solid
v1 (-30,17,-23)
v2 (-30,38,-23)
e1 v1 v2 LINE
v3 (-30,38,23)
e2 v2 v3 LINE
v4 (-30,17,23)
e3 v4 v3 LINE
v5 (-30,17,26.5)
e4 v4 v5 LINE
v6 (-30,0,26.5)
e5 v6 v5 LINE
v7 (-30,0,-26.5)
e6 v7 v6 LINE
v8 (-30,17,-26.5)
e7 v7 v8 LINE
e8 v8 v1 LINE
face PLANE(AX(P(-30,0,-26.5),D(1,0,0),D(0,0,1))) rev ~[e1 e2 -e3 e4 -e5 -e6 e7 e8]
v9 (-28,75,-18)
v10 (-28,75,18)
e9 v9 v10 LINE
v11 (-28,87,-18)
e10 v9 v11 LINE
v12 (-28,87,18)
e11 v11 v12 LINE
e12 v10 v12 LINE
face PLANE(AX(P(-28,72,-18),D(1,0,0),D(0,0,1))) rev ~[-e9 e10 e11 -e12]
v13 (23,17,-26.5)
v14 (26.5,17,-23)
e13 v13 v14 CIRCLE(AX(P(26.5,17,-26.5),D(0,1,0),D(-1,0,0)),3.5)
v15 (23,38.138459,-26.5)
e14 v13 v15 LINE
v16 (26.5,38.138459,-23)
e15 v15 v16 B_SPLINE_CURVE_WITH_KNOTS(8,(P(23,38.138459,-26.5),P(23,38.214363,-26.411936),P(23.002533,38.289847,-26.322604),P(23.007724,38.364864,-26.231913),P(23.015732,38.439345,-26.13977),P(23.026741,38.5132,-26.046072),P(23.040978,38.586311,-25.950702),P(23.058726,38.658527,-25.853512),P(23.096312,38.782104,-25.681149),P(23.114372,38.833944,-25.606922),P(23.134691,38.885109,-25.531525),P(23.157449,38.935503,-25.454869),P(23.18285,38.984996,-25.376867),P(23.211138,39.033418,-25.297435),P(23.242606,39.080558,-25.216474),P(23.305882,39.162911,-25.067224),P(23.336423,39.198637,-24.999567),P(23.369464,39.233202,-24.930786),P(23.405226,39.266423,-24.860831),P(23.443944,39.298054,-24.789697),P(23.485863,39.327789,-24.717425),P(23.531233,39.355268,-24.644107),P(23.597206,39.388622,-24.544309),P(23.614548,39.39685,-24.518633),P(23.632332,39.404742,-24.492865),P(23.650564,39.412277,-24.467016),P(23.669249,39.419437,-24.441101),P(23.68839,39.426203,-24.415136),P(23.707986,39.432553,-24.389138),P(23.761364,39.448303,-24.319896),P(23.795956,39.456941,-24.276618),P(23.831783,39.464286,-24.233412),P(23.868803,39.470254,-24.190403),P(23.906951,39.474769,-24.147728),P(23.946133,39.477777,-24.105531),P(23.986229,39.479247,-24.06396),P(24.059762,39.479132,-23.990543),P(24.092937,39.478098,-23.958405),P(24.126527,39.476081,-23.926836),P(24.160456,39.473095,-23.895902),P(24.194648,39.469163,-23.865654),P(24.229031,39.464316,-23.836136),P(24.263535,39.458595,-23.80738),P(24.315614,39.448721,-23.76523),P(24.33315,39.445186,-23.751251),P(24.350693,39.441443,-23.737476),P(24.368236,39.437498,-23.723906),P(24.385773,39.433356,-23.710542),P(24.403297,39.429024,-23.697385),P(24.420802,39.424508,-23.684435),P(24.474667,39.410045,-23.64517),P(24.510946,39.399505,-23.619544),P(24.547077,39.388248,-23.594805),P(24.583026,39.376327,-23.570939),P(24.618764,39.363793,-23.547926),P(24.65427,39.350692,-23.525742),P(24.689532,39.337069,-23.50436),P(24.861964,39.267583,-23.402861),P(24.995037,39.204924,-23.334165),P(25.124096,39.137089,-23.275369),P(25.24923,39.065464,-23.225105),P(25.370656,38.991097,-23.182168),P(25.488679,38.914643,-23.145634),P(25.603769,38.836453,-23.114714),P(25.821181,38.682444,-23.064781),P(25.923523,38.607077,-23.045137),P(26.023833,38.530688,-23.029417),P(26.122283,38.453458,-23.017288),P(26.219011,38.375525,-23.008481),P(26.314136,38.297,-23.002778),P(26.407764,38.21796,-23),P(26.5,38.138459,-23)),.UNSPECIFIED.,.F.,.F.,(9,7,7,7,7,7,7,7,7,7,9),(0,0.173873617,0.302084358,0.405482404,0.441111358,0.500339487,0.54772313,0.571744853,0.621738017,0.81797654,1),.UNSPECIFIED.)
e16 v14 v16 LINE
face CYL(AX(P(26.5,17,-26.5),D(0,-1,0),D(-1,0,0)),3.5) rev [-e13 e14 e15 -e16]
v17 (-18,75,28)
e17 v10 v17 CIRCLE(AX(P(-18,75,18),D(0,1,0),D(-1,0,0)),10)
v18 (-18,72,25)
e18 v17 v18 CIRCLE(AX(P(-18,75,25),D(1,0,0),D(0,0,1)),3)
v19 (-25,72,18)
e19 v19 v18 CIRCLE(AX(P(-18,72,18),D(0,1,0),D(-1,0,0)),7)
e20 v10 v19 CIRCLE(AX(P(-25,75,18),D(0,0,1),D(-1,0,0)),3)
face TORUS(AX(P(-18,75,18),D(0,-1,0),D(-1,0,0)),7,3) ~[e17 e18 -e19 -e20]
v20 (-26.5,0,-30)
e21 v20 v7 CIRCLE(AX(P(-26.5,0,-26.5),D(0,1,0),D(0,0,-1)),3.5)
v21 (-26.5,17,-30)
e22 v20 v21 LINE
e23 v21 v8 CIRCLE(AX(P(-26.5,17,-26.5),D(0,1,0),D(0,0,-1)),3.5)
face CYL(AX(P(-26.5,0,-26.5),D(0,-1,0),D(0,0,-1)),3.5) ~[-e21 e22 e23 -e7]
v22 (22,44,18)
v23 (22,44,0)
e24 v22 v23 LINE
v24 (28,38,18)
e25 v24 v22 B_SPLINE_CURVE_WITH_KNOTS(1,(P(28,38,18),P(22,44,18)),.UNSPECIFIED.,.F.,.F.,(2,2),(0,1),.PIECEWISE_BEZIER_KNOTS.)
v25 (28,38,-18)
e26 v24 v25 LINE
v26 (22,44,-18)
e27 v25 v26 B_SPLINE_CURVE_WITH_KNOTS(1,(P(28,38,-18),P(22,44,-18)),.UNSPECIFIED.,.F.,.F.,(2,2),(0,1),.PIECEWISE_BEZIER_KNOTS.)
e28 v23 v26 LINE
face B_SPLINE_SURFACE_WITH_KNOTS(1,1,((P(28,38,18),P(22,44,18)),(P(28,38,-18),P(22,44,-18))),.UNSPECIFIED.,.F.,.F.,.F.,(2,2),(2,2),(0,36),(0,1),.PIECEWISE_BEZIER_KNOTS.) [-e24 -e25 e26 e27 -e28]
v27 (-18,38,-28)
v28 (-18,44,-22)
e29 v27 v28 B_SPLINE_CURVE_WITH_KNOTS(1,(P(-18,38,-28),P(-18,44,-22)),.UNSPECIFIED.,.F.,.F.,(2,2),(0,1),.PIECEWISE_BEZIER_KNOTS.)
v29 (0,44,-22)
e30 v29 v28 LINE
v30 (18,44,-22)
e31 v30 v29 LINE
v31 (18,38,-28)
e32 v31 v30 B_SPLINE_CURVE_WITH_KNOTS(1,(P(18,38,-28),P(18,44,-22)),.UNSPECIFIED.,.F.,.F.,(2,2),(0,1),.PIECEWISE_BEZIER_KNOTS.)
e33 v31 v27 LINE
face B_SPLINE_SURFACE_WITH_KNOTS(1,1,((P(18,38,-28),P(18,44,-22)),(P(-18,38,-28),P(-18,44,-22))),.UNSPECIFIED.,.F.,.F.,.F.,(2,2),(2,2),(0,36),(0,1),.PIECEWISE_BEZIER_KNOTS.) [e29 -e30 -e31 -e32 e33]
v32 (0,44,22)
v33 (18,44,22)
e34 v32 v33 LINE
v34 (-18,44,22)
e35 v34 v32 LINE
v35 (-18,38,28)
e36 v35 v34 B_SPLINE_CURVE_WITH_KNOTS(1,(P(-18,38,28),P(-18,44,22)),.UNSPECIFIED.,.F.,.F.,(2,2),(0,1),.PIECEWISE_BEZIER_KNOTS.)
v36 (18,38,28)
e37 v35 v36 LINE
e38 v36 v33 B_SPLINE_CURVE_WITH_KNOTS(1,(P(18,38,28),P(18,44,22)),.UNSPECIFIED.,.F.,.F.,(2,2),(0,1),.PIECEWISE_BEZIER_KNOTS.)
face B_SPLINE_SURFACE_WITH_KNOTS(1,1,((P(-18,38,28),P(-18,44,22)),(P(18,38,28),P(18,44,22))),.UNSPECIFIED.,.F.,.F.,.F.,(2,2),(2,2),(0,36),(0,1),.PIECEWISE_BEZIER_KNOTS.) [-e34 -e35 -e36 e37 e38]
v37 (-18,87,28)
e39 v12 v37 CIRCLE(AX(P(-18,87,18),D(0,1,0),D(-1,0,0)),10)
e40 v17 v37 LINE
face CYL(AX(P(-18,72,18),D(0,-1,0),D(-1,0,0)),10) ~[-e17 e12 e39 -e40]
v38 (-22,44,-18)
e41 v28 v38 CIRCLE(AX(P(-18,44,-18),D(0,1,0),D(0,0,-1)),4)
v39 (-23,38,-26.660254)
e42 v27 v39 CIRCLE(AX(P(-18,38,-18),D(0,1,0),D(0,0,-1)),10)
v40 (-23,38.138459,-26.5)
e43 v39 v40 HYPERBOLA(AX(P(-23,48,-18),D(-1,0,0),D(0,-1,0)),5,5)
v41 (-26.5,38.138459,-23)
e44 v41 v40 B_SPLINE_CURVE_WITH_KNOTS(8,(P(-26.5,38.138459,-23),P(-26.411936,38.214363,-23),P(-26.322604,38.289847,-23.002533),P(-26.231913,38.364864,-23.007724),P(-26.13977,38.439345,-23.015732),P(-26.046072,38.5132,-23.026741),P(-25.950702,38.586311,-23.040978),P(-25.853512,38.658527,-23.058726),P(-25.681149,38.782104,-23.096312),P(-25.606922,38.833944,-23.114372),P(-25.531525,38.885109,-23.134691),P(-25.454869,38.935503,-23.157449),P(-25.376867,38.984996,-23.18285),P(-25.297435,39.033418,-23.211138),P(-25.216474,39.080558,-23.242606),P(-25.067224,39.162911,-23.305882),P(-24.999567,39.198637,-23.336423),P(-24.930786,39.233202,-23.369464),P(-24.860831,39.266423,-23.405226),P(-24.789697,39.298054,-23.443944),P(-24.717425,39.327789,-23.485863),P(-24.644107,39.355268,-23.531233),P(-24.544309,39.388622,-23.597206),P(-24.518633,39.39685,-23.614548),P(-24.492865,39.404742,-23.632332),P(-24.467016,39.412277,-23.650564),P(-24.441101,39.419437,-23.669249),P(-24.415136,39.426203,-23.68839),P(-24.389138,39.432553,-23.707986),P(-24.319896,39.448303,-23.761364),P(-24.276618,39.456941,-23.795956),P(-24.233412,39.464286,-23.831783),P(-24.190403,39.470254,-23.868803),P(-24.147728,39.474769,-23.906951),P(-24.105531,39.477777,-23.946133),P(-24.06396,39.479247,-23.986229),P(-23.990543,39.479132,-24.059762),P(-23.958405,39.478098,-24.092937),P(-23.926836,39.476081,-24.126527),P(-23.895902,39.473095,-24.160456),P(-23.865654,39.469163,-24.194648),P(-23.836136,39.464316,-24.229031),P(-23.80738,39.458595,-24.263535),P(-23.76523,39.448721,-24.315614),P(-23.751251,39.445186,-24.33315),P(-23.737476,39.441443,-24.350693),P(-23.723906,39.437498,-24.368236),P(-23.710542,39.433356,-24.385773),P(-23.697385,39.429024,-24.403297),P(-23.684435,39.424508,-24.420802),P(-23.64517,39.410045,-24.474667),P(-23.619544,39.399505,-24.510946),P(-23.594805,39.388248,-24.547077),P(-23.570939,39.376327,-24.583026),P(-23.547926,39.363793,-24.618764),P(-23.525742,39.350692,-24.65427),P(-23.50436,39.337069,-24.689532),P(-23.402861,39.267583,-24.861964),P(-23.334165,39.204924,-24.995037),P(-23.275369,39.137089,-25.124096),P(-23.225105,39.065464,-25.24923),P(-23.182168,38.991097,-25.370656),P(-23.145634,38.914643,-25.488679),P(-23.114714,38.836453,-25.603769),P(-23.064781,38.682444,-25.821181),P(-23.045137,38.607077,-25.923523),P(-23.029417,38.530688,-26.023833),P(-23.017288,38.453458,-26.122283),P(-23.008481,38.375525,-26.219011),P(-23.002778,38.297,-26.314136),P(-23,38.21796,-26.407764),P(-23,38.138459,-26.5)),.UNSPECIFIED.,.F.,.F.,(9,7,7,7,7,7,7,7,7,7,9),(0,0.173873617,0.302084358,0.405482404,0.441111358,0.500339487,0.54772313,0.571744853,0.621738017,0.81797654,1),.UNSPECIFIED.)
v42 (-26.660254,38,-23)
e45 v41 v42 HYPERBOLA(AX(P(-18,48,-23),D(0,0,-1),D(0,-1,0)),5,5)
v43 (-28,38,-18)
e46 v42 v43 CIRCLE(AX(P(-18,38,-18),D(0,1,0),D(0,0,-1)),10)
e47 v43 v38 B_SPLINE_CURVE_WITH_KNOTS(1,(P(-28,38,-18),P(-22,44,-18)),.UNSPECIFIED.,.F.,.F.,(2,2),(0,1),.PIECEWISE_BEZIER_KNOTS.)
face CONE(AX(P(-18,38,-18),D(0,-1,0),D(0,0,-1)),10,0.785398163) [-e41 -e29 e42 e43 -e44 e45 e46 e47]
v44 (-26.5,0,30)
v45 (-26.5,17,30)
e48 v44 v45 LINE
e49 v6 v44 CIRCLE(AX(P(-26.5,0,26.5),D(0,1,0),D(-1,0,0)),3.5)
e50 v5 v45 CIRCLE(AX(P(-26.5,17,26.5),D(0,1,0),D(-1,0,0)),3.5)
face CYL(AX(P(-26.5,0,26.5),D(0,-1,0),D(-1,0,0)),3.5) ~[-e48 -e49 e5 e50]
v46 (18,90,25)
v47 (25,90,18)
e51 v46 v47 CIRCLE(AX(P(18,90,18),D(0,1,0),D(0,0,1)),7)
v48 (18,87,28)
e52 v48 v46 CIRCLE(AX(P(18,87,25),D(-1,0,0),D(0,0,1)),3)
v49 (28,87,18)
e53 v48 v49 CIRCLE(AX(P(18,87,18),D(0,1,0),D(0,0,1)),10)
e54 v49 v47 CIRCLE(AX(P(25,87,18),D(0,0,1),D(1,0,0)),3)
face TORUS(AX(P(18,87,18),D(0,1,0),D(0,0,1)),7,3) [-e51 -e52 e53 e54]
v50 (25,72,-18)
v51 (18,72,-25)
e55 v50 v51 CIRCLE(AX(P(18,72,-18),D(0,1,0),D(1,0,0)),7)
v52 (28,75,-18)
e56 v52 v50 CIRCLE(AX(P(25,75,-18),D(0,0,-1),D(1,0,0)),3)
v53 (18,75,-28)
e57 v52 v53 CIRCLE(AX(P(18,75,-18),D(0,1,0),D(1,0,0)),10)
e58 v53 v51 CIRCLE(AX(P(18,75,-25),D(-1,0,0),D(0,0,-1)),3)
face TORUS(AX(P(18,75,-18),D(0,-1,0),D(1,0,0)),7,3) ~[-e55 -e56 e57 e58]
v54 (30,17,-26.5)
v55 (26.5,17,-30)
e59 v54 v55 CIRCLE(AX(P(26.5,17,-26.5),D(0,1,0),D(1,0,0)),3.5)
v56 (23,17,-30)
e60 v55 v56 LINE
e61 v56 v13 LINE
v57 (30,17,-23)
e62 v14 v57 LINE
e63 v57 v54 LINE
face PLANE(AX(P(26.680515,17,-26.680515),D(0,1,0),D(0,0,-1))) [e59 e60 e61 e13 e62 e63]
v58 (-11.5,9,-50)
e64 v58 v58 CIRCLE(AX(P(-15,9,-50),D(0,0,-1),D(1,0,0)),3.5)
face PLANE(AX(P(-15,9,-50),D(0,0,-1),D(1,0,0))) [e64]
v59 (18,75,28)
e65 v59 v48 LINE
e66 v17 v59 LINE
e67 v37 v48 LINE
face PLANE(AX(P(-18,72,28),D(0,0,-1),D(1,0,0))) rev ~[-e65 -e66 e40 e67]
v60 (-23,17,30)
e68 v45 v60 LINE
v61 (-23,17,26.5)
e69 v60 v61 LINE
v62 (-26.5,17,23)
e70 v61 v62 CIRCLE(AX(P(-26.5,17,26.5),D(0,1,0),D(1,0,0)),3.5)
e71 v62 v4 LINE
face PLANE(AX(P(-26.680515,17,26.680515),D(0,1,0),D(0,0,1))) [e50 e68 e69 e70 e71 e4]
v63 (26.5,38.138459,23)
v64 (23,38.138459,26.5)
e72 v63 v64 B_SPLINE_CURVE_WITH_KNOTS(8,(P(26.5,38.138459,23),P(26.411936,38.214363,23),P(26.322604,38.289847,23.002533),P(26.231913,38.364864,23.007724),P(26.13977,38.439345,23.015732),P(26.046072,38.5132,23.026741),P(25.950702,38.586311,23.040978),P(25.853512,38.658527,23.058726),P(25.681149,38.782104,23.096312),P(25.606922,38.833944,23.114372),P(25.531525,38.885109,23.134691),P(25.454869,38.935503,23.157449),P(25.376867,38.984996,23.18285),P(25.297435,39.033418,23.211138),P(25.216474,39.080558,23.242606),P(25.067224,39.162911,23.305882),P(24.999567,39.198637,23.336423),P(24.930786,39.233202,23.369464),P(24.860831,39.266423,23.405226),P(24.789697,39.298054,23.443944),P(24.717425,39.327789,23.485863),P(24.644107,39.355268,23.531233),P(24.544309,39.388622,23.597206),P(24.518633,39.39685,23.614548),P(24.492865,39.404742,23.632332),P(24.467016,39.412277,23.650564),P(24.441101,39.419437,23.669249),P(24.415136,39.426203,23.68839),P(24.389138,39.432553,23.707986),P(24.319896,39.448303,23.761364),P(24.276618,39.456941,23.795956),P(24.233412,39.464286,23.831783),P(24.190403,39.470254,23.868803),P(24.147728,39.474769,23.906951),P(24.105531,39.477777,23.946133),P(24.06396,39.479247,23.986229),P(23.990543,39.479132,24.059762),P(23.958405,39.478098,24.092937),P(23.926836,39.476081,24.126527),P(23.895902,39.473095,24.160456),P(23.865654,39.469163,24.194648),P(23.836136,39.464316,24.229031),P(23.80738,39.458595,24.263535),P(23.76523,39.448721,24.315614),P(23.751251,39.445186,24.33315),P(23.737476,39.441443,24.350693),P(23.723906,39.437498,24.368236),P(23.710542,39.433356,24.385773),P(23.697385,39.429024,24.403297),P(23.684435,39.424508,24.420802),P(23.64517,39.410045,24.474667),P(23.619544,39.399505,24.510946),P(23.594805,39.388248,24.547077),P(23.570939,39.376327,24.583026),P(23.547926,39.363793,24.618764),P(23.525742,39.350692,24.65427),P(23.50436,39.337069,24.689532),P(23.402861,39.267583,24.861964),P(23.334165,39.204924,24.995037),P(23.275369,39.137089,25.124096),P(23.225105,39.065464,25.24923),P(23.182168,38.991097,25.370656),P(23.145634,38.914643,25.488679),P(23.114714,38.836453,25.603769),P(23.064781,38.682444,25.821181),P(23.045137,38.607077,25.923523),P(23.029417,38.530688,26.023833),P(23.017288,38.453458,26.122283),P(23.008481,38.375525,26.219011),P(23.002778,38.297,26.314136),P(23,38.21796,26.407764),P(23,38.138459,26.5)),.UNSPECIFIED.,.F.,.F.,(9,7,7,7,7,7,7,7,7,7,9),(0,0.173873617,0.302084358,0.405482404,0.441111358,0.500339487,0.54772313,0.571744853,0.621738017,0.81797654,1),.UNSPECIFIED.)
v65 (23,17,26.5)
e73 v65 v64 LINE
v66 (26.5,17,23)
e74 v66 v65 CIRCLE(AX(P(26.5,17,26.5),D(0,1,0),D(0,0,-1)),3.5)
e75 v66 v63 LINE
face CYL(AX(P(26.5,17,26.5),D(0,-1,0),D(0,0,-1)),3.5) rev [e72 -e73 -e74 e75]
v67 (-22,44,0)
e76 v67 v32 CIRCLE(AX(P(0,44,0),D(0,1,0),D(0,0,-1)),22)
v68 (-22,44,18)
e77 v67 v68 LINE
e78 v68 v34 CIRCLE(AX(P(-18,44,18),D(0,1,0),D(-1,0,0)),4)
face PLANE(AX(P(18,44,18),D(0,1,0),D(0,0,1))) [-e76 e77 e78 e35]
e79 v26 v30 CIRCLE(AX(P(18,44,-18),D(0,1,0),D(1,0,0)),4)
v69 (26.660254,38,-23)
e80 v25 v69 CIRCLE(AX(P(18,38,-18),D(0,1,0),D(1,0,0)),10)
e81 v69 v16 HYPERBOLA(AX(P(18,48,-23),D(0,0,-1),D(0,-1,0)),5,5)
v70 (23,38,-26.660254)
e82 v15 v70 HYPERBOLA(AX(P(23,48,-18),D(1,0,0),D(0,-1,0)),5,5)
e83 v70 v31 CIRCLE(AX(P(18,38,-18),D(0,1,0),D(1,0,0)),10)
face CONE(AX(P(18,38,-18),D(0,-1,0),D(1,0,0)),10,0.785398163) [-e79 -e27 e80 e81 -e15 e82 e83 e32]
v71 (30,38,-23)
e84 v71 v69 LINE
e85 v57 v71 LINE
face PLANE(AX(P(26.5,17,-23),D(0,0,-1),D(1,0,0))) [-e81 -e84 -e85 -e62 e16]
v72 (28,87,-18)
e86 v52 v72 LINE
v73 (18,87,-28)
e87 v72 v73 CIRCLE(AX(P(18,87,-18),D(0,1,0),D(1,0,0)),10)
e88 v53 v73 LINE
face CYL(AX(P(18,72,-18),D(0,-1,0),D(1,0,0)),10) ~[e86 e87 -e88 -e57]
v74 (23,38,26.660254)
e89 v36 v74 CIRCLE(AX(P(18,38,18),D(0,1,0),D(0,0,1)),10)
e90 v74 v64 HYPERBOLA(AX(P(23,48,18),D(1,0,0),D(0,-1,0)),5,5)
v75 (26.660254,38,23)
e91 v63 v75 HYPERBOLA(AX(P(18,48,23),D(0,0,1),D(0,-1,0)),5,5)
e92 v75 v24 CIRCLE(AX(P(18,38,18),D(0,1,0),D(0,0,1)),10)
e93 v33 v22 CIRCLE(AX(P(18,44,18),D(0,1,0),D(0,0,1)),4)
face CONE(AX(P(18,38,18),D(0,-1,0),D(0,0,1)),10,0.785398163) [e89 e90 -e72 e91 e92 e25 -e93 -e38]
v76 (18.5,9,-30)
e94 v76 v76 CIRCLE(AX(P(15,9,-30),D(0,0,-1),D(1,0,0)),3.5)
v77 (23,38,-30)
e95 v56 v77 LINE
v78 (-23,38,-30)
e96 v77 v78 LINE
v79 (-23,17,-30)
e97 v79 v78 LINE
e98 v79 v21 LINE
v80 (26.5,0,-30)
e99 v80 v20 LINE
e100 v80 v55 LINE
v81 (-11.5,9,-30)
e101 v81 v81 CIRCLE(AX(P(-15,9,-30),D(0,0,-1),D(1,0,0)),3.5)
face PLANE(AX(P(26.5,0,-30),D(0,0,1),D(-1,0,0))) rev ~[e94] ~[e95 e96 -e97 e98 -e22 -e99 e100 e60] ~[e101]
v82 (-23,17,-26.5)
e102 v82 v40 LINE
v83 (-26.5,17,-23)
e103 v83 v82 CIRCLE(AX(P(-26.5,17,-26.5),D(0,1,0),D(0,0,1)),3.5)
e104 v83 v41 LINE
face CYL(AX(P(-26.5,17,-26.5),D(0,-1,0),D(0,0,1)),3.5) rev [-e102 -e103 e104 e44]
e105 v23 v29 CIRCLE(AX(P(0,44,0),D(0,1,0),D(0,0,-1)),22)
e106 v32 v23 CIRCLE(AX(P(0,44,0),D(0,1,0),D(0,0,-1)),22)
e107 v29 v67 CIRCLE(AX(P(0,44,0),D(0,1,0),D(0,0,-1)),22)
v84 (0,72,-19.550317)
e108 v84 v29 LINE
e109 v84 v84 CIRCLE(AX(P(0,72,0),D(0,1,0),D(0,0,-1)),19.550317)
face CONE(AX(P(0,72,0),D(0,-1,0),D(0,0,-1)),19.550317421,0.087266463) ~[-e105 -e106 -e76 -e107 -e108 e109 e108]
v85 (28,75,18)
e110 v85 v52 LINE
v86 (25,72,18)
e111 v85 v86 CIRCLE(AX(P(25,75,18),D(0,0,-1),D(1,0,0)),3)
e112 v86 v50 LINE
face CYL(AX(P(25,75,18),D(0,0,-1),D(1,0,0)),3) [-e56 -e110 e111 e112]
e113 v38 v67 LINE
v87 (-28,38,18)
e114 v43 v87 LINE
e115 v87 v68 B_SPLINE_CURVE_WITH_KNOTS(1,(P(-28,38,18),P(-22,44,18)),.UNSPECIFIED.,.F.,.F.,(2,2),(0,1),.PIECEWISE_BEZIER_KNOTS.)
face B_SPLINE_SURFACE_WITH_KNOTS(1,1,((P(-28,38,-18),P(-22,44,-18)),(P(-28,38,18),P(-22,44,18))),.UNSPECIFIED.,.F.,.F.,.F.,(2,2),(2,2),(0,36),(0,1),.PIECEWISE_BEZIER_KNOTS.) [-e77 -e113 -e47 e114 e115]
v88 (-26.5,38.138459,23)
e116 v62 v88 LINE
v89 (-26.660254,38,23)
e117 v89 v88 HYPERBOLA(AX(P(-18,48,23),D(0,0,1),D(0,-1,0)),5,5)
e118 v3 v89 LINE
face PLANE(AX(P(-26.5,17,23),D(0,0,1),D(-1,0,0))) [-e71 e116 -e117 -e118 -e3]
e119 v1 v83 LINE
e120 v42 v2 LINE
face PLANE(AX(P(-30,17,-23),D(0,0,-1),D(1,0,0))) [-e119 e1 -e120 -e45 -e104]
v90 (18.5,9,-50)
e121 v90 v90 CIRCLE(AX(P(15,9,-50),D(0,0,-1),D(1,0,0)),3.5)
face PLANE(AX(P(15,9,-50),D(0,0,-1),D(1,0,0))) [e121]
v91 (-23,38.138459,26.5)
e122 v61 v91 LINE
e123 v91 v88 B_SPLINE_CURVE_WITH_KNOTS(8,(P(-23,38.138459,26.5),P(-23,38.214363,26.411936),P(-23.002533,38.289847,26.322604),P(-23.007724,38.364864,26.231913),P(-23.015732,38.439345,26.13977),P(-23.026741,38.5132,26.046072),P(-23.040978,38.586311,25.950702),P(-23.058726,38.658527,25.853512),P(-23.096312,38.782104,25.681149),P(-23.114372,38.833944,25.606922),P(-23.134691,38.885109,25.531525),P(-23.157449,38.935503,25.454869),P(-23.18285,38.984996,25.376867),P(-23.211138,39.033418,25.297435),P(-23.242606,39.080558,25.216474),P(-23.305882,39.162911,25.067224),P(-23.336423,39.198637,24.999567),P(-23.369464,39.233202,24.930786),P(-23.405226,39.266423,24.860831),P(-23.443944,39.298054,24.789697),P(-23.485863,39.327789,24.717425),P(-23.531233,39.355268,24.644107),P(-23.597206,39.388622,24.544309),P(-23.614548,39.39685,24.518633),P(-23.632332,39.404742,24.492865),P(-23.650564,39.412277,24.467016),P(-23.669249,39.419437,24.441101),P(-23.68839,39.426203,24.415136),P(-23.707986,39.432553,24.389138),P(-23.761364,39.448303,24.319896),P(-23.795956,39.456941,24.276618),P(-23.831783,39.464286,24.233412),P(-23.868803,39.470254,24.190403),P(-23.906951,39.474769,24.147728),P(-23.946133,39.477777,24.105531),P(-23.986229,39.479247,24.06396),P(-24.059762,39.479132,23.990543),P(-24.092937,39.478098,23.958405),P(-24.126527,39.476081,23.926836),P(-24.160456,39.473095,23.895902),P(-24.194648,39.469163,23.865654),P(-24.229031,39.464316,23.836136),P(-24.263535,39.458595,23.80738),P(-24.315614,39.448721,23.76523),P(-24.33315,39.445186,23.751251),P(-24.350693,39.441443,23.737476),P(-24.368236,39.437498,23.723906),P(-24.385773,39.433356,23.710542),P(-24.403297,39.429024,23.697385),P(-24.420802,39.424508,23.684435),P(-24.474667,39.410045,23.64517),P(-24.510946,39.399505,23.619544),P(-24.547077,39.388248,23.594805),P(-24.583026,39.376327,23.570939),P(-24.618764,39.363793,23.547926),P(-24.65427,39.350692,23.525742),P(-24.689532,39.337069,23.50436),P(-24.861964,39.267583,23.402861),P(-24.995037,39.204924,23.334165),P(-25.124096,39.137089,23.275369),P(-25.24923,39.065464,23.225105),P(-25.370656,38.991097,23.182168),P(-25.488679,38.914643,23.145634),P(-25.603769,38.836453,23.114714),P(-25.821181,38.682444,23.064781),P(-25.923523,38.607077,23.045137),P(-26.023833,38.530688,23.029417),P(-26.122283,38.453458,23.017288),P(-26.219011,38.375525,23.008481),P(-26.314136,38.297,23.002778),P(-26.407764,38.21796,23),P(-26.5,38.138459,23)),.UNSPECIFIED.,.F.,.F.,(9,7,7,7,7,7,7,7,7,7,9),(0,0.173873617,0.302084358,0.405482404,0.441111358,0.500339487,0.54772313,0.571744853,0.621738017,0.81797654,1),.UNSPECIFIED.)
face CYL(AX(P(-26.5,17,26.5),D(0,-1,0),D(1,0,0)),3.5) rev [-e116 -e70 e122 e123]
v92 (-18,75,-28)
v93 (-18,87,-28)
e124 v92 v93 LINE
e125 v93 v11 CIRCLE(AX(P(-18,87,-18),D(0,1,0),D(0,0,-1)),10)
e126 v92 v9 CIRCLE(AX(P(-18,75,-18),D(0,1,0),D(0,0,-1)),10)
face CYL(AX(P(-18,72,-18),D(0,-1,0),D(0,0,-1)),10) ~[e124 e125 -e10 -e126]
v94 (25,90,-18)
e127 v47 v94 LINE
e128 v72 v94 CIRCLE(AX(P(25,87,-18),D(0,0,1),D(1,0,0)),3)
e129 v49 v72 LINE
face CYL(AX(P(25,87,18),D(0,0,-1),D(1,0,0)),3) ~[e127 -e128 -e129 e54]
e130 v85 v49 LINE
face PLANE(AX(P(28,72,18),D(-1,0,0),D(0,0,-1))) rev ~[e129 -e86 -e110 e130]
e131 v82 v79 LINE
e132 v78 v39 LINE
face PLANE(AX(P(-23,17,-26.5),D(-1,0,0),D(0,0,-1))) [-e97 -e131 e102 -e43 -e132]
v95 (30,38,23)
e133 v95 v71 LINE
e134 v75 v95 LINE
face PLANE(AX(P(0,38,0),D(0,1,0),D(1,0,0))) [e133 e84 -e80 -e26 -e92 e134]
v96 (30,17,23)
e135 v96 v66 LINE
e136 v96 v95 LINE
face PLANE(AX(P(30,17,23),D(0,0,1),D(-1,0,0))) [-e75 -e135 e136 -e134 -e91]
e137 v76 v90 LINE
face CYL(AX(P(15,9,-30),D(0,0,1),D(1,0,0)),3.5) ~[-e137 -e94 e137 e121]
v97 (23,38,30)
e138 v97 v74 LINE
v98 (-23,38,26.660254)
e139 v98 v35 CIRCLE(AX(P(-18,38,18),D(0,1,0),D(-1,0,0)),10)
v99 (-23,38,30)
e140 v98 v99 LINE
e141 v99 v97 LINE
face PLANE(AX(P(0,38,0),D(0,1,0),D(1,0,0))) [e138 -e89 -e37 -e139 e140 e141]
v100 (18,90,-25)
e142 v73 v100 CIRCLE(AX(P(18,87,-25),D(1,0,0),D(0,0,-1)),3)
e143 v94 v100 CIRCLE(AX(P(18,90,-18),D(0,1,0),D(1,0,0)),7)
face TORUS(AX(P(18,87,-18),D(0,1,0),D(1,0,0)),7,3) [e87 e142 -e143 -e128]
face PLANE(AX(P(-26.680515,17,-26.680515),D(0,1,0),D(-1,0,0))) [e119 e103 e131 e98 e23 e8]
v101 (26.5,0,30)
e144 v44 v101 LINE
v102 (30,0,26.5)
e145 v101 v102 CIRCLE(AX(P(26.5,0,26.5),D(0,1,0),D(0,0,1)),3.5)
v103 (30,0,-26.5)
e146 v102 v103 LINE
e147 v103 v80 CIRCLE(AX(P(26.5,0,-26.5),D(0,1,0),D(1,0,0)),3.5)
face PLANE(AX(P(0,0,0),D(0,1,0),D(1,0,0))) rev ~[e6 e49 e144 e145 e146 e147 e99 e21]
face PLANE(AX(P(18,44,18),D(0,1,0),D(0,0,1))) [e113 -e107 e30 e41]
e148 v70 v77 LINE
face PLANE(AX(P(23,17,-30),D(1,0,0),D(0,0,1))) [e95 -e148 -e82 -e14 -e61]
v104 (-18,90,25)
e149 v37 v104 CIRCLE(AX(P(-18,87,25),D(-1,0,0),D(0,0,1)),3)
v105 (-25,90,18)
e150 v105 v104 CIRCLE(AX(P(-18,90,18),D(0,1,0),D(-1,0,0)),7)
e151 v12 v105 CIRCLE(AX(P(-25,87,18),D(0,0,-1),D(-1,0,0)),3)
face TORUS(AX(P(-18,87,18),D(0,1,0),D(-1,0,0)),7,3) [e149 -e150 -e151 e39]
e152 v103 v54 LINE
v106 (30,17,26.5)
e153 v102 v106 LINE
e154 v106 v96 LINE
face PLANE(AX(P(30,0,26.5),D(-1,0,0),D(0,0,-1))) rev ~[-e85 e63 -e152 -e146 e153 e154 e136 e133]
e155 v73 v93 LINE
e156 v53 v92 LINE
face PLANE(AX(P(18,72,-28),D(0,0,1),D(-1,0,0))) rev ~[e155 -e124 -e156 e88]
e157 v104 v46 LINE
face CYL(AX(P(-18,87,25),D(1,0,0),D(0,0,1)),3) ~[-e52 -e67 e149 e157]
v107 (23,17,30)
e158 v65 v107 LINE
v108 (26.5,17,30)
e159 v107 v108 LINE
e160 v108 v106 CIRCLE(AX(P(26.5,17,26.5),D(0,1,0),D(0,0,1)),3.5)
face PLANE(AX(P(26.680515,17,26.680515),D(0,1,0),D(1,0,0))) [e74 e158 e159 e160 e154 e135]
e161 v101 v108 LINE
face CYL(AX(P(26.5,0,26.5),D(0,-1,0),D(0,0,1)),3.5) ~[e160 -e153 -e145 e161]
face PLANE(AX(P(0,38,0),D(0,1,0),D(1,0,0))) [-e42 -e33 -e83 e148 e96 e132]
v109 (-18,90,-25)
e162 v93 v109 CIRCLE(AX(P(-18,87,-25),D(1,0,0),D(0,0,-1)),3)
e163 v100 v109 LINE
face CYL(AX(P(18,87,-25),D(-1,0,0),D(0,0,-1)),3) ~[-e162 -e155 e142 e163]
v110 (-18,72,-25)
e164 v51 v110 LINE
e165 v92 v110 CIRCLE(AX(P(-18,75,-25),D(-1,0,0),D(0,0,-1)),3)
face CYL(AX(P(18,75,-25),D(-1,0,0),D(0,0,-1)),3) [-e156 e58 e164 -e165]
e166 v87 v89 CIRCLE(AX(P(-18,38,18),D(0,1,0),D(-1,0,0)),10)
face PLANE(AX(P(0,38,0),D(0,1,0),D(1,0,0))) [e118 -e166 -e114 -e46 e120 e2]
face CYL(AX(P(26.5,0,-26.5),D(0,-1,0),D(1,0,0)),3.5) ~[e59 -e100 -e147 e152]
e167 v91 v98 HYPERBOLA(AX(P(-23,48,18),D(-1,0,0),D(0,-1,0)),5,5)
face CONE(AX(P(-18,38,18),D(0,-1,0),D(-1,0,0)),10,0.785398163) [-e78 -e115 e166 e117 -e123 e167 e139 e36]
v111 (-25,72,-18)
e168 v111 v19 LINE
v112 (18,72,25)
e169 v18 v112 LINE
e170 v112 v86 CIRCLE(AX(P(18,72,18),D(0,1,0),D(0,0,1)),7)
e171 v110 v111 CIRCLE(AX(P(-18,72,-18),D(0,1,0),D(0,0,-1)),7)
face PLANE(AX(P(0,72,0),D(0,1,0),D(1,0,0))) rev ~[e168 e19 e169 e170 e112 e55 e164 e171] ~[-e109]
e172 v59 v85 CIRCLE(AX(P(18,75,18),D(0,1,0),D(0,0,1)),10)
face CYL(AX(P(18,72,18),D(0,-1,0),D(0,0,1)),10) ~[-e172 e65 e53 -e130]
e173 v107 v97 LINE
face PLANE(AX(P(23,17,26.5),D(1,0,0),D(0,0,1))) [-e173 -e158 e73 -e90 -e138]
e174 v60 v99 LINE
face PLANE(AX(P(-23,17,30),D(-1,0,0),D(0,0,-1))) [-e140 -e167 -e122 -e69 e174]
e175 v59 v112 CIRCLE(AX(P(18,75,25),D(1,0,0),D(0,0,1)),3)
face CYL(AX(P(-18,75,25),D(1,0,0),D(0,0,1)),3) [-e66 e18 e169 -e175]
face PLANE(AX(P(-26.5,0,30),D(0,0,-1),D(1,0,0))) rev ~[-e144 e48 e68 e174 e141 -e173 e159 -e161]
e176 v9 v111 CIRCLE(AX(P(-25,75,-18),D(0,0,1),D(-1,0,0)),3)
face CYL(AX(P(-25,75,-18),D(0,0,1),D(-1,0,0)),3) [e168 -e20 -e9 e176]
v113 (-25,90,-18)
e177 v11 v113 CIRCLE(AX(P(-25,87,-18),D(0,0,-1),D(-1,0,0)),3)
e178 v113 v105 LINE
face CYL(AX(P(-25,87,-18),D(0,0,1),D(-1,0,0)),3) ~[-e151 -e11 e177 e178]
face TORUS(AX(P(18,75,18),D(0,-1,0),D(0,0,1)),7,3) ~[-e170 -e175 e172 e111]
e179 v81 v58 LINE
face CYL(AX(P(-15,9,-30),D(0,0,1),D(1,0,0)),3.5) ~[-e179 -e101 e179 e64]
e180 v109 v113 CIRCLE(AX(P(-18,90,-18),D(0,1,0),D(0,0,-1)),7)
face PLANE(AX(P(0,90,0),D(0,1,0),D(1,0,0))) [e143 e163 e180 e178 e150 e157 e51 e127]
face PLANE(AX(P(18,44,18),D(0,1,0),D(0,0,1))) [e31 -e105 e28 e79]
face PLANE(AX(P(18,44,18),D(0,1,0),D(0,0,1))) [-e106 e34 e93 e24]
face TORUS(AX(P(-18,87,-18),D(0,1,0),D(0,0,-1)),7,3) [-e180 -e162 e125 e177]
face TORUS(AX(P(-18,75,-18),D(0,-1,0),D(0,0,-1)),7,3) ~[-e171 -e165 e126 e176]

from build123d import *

# Parameters (mm, degrees)
BOSS_EXTRUDE1_DEPTH = 38
BOSS_EXTRUDE2_DEPTH = 6
BOSS_EXTRUDE2_TAPER = 45
CUT_EXTRUDE3_START  = -21
CUT_EXTRUDE3_DEPTH  = 78.956123464
CIRPATTERN1_COUNT   = 4
SKETCH5_R           = 3.5
BOSS_EXTRUDE3_DEPTH = 20
BOSS_EXTRUDE4_DEPTH = 18
FILLET1_R           = 3


with BuildPart() as part:
    # Sketch1 → Boss-Extrude1 (new body)
    with BuildSketch(Plane(origin=(0, 0, 0), x_dir=(1, 0, 0), z_dir=(0, 1, 0))):
        with BuildLine():
            Line((-26.5, -30), (26.5, -30))
            ThreePointArc((26.5, -30), (28.974873734, -28.974873734), (30, -26.5))
            Line((30, -26.5), (30, 26.5))
            ThreePointArc((30, 26.5), (28.974873734, 28.974873734), (26.5, 30))
            Line((26.5, 30), (-26.5, 30))
            ThreePointArc((-26.5, 30), (-28.974873734, 28.974873734), (-30, 26.5))
            Line((-30, 26.5), (-30, -26.5))
            ThreePointArc((-30, -26.5), (-28.974873734, -28.974873734), (-26.5, -30))
        make_face()
    extrude(amount=BOSS_EXTRUDE1_DEPTH)

    # Sketch2 → Boss-Extrude2 (add)
    with BuildSketch(Plane(origin=(0, 38, 0), x_dir=(1, 0, 0), z_dir=(0, 1, 0))):
        with BuildLine():
            Line((-18, -28), (18, -28))
            ThreePointArc((18, -28), (25.071067812, -25.071067812), (28, -18))
            Line((28, -18), (28, 18))
            ThreePointArc((28, 18), (25.071067812, 25.071067812), (18, 28))
            Line((18, 28), (-18, 28))
            ThreePointArc((-18, 28), (-25.071067812, 25.071067812), (-28, 18))
            Line((-28, 18), (-28, -18))
            ThreePointArc((-28, -18), (-25.071067812, -25.071067812), (-18, -28))
        make_face()
    extrude(amount=BOSS_EXTRUDE2_DEPTH, taper=BOSS_EXTRUDE2_TAPER)

    # Sketch3 → Cut-Extrude3 (cut)
    with BuildSketch(Plane(origin=(0, 38, 0), x_dir=(1, 0, 0), z_dir=(0, 1, 0)).offset(CUT_EXTRUDE3_START)):
        with BuildLine():
            ThreePointArc((26.660254038, -23), (25.071067812, -25.071067812), (23, -26.660254038))
            Line((23, -26.660254038), (23, -30))
            Line((23, -30), (26.5, -30))
            ThreePointArc((26.5, -30), (28.974873734, -28.974873734), (30, -26.5))
            Line((30, -26.5), (30, -23))
            Line((30, -23), (26.660254038, -23))
        make_face()
        with BuildLine():
            ThreePointArc((26.5, -23), (24.025126266, -24.025126266), (23, -26.5))
            Line((23, -26.5), (23, -26.660254038))
            ThreePointArc((23, -26.660254038), (25.071067812, -25.071067812), (26.660254038, -23))
            Line((26.660254038, -23), (26.5, -23))
        make_face()
    cut_extrude3 = extrude(amount=CUT_EXTRUDE3_DEPTH, mode=Mode.SUBTRACT)

    # CirPattern1: Cut-Extrude3 ×4 about axis
    cirpattern1_axis = Axis((0, 0, 0), (0, 1, 0))
    for i in range(1, CIRPATTERN1_COUNT):
        add(cut_extrude3.rotate(cirpattern1_axis, i * 360 / CIRPATTERN1_COUNT), mode=Mode.SUBTRACT)

    # Sketch4 → Revolve1 (revolve)
    with BuildSketch(Plane.XY, mode=Mode.PRIVATE) as revolve1_sk:
        Polygon((0, 44), (0, 72), (19.550317421, 72), (22, 44), align=None)
    revolve(revolve1_sk.sketch.rotate(Axis((0, -2.2, 0), (0, 1, 0)), 90), axis=Axis((0, -2.2, 0), (0, 1, 0)))

    # Sketch5 → Boss-Extrude3 (add)
    with BuildSketch(Plane(origin=(0, 0, -30), x_dir=(-1, 0, 0), z_dir=(0, 0, -1))):
        with Locations(Location((-15, 9, 0), (0, 0, 180))):
            Circle(SKETCH5_R)
        with Locations(Location((15, 9, 0), (0, 0, 180))):
            Circle(SKETCH5_R)
    extrude(amount=BOSS_EXTRUDE3_DEPTH)

    # Sketch6 → Boss-Extrude4 (add)
    with BuildSketch(Plane(origin=(0, 72, 0), x_dir=(1, 0, 0), z_dir=(0, 1, 0))):
        with BuildLine():
            Line((-18, -28), (18, -28))
            ThreePointArc((18, -28), (25.071067812, -25.071067812), (28, -18))
            Line((28, -18), (28, 18))
            ThreePointArc((28, 18), (25.071067812, 25.071067812), (18, 28))
            Line((18, 28), (-18, 28))
            ThreePointArc((-18, 28), (-25.071067812, 25.071067812), (-28, 18))
            Line((-28, 18), (-28, -18))
            ThreePointArc((-28, -18), (-25.071067812, -25.071067812), (-18, -28))
        make_face()
    extrude(amount=BOSS_EXTRUDE4_DEPTH)

    # Fillet1
    fillet1_edges = [part.edges().sort_by_distance(p)[0] for p in [
        (25.071067812, 72, 25.071067812),
        (28, 72, 0),
        (25.071067812, 72, -25.071067812),
        (0, 72, -28),
        (-25.071067812, 72, -25.071067812),
        (-28, 72, 0),
        (-25.071067812, 72, 25.071067812),
        (0, 72, 28),
        (25.071067812, 90, 25.071067812),
        (28, 90, 0),
        (25.071067812, 90, -25.071067812),
        (0, 90, -28),
        (-25.071067812, 90, -25.071067812),
        (-28, 90, 0),
        (-25.071067812, 90, 25.071067812),
        (0, 90, 28),
    ]]
    fillet(fillet1_edges, radius=FILLET1_R)


solid = part.part
